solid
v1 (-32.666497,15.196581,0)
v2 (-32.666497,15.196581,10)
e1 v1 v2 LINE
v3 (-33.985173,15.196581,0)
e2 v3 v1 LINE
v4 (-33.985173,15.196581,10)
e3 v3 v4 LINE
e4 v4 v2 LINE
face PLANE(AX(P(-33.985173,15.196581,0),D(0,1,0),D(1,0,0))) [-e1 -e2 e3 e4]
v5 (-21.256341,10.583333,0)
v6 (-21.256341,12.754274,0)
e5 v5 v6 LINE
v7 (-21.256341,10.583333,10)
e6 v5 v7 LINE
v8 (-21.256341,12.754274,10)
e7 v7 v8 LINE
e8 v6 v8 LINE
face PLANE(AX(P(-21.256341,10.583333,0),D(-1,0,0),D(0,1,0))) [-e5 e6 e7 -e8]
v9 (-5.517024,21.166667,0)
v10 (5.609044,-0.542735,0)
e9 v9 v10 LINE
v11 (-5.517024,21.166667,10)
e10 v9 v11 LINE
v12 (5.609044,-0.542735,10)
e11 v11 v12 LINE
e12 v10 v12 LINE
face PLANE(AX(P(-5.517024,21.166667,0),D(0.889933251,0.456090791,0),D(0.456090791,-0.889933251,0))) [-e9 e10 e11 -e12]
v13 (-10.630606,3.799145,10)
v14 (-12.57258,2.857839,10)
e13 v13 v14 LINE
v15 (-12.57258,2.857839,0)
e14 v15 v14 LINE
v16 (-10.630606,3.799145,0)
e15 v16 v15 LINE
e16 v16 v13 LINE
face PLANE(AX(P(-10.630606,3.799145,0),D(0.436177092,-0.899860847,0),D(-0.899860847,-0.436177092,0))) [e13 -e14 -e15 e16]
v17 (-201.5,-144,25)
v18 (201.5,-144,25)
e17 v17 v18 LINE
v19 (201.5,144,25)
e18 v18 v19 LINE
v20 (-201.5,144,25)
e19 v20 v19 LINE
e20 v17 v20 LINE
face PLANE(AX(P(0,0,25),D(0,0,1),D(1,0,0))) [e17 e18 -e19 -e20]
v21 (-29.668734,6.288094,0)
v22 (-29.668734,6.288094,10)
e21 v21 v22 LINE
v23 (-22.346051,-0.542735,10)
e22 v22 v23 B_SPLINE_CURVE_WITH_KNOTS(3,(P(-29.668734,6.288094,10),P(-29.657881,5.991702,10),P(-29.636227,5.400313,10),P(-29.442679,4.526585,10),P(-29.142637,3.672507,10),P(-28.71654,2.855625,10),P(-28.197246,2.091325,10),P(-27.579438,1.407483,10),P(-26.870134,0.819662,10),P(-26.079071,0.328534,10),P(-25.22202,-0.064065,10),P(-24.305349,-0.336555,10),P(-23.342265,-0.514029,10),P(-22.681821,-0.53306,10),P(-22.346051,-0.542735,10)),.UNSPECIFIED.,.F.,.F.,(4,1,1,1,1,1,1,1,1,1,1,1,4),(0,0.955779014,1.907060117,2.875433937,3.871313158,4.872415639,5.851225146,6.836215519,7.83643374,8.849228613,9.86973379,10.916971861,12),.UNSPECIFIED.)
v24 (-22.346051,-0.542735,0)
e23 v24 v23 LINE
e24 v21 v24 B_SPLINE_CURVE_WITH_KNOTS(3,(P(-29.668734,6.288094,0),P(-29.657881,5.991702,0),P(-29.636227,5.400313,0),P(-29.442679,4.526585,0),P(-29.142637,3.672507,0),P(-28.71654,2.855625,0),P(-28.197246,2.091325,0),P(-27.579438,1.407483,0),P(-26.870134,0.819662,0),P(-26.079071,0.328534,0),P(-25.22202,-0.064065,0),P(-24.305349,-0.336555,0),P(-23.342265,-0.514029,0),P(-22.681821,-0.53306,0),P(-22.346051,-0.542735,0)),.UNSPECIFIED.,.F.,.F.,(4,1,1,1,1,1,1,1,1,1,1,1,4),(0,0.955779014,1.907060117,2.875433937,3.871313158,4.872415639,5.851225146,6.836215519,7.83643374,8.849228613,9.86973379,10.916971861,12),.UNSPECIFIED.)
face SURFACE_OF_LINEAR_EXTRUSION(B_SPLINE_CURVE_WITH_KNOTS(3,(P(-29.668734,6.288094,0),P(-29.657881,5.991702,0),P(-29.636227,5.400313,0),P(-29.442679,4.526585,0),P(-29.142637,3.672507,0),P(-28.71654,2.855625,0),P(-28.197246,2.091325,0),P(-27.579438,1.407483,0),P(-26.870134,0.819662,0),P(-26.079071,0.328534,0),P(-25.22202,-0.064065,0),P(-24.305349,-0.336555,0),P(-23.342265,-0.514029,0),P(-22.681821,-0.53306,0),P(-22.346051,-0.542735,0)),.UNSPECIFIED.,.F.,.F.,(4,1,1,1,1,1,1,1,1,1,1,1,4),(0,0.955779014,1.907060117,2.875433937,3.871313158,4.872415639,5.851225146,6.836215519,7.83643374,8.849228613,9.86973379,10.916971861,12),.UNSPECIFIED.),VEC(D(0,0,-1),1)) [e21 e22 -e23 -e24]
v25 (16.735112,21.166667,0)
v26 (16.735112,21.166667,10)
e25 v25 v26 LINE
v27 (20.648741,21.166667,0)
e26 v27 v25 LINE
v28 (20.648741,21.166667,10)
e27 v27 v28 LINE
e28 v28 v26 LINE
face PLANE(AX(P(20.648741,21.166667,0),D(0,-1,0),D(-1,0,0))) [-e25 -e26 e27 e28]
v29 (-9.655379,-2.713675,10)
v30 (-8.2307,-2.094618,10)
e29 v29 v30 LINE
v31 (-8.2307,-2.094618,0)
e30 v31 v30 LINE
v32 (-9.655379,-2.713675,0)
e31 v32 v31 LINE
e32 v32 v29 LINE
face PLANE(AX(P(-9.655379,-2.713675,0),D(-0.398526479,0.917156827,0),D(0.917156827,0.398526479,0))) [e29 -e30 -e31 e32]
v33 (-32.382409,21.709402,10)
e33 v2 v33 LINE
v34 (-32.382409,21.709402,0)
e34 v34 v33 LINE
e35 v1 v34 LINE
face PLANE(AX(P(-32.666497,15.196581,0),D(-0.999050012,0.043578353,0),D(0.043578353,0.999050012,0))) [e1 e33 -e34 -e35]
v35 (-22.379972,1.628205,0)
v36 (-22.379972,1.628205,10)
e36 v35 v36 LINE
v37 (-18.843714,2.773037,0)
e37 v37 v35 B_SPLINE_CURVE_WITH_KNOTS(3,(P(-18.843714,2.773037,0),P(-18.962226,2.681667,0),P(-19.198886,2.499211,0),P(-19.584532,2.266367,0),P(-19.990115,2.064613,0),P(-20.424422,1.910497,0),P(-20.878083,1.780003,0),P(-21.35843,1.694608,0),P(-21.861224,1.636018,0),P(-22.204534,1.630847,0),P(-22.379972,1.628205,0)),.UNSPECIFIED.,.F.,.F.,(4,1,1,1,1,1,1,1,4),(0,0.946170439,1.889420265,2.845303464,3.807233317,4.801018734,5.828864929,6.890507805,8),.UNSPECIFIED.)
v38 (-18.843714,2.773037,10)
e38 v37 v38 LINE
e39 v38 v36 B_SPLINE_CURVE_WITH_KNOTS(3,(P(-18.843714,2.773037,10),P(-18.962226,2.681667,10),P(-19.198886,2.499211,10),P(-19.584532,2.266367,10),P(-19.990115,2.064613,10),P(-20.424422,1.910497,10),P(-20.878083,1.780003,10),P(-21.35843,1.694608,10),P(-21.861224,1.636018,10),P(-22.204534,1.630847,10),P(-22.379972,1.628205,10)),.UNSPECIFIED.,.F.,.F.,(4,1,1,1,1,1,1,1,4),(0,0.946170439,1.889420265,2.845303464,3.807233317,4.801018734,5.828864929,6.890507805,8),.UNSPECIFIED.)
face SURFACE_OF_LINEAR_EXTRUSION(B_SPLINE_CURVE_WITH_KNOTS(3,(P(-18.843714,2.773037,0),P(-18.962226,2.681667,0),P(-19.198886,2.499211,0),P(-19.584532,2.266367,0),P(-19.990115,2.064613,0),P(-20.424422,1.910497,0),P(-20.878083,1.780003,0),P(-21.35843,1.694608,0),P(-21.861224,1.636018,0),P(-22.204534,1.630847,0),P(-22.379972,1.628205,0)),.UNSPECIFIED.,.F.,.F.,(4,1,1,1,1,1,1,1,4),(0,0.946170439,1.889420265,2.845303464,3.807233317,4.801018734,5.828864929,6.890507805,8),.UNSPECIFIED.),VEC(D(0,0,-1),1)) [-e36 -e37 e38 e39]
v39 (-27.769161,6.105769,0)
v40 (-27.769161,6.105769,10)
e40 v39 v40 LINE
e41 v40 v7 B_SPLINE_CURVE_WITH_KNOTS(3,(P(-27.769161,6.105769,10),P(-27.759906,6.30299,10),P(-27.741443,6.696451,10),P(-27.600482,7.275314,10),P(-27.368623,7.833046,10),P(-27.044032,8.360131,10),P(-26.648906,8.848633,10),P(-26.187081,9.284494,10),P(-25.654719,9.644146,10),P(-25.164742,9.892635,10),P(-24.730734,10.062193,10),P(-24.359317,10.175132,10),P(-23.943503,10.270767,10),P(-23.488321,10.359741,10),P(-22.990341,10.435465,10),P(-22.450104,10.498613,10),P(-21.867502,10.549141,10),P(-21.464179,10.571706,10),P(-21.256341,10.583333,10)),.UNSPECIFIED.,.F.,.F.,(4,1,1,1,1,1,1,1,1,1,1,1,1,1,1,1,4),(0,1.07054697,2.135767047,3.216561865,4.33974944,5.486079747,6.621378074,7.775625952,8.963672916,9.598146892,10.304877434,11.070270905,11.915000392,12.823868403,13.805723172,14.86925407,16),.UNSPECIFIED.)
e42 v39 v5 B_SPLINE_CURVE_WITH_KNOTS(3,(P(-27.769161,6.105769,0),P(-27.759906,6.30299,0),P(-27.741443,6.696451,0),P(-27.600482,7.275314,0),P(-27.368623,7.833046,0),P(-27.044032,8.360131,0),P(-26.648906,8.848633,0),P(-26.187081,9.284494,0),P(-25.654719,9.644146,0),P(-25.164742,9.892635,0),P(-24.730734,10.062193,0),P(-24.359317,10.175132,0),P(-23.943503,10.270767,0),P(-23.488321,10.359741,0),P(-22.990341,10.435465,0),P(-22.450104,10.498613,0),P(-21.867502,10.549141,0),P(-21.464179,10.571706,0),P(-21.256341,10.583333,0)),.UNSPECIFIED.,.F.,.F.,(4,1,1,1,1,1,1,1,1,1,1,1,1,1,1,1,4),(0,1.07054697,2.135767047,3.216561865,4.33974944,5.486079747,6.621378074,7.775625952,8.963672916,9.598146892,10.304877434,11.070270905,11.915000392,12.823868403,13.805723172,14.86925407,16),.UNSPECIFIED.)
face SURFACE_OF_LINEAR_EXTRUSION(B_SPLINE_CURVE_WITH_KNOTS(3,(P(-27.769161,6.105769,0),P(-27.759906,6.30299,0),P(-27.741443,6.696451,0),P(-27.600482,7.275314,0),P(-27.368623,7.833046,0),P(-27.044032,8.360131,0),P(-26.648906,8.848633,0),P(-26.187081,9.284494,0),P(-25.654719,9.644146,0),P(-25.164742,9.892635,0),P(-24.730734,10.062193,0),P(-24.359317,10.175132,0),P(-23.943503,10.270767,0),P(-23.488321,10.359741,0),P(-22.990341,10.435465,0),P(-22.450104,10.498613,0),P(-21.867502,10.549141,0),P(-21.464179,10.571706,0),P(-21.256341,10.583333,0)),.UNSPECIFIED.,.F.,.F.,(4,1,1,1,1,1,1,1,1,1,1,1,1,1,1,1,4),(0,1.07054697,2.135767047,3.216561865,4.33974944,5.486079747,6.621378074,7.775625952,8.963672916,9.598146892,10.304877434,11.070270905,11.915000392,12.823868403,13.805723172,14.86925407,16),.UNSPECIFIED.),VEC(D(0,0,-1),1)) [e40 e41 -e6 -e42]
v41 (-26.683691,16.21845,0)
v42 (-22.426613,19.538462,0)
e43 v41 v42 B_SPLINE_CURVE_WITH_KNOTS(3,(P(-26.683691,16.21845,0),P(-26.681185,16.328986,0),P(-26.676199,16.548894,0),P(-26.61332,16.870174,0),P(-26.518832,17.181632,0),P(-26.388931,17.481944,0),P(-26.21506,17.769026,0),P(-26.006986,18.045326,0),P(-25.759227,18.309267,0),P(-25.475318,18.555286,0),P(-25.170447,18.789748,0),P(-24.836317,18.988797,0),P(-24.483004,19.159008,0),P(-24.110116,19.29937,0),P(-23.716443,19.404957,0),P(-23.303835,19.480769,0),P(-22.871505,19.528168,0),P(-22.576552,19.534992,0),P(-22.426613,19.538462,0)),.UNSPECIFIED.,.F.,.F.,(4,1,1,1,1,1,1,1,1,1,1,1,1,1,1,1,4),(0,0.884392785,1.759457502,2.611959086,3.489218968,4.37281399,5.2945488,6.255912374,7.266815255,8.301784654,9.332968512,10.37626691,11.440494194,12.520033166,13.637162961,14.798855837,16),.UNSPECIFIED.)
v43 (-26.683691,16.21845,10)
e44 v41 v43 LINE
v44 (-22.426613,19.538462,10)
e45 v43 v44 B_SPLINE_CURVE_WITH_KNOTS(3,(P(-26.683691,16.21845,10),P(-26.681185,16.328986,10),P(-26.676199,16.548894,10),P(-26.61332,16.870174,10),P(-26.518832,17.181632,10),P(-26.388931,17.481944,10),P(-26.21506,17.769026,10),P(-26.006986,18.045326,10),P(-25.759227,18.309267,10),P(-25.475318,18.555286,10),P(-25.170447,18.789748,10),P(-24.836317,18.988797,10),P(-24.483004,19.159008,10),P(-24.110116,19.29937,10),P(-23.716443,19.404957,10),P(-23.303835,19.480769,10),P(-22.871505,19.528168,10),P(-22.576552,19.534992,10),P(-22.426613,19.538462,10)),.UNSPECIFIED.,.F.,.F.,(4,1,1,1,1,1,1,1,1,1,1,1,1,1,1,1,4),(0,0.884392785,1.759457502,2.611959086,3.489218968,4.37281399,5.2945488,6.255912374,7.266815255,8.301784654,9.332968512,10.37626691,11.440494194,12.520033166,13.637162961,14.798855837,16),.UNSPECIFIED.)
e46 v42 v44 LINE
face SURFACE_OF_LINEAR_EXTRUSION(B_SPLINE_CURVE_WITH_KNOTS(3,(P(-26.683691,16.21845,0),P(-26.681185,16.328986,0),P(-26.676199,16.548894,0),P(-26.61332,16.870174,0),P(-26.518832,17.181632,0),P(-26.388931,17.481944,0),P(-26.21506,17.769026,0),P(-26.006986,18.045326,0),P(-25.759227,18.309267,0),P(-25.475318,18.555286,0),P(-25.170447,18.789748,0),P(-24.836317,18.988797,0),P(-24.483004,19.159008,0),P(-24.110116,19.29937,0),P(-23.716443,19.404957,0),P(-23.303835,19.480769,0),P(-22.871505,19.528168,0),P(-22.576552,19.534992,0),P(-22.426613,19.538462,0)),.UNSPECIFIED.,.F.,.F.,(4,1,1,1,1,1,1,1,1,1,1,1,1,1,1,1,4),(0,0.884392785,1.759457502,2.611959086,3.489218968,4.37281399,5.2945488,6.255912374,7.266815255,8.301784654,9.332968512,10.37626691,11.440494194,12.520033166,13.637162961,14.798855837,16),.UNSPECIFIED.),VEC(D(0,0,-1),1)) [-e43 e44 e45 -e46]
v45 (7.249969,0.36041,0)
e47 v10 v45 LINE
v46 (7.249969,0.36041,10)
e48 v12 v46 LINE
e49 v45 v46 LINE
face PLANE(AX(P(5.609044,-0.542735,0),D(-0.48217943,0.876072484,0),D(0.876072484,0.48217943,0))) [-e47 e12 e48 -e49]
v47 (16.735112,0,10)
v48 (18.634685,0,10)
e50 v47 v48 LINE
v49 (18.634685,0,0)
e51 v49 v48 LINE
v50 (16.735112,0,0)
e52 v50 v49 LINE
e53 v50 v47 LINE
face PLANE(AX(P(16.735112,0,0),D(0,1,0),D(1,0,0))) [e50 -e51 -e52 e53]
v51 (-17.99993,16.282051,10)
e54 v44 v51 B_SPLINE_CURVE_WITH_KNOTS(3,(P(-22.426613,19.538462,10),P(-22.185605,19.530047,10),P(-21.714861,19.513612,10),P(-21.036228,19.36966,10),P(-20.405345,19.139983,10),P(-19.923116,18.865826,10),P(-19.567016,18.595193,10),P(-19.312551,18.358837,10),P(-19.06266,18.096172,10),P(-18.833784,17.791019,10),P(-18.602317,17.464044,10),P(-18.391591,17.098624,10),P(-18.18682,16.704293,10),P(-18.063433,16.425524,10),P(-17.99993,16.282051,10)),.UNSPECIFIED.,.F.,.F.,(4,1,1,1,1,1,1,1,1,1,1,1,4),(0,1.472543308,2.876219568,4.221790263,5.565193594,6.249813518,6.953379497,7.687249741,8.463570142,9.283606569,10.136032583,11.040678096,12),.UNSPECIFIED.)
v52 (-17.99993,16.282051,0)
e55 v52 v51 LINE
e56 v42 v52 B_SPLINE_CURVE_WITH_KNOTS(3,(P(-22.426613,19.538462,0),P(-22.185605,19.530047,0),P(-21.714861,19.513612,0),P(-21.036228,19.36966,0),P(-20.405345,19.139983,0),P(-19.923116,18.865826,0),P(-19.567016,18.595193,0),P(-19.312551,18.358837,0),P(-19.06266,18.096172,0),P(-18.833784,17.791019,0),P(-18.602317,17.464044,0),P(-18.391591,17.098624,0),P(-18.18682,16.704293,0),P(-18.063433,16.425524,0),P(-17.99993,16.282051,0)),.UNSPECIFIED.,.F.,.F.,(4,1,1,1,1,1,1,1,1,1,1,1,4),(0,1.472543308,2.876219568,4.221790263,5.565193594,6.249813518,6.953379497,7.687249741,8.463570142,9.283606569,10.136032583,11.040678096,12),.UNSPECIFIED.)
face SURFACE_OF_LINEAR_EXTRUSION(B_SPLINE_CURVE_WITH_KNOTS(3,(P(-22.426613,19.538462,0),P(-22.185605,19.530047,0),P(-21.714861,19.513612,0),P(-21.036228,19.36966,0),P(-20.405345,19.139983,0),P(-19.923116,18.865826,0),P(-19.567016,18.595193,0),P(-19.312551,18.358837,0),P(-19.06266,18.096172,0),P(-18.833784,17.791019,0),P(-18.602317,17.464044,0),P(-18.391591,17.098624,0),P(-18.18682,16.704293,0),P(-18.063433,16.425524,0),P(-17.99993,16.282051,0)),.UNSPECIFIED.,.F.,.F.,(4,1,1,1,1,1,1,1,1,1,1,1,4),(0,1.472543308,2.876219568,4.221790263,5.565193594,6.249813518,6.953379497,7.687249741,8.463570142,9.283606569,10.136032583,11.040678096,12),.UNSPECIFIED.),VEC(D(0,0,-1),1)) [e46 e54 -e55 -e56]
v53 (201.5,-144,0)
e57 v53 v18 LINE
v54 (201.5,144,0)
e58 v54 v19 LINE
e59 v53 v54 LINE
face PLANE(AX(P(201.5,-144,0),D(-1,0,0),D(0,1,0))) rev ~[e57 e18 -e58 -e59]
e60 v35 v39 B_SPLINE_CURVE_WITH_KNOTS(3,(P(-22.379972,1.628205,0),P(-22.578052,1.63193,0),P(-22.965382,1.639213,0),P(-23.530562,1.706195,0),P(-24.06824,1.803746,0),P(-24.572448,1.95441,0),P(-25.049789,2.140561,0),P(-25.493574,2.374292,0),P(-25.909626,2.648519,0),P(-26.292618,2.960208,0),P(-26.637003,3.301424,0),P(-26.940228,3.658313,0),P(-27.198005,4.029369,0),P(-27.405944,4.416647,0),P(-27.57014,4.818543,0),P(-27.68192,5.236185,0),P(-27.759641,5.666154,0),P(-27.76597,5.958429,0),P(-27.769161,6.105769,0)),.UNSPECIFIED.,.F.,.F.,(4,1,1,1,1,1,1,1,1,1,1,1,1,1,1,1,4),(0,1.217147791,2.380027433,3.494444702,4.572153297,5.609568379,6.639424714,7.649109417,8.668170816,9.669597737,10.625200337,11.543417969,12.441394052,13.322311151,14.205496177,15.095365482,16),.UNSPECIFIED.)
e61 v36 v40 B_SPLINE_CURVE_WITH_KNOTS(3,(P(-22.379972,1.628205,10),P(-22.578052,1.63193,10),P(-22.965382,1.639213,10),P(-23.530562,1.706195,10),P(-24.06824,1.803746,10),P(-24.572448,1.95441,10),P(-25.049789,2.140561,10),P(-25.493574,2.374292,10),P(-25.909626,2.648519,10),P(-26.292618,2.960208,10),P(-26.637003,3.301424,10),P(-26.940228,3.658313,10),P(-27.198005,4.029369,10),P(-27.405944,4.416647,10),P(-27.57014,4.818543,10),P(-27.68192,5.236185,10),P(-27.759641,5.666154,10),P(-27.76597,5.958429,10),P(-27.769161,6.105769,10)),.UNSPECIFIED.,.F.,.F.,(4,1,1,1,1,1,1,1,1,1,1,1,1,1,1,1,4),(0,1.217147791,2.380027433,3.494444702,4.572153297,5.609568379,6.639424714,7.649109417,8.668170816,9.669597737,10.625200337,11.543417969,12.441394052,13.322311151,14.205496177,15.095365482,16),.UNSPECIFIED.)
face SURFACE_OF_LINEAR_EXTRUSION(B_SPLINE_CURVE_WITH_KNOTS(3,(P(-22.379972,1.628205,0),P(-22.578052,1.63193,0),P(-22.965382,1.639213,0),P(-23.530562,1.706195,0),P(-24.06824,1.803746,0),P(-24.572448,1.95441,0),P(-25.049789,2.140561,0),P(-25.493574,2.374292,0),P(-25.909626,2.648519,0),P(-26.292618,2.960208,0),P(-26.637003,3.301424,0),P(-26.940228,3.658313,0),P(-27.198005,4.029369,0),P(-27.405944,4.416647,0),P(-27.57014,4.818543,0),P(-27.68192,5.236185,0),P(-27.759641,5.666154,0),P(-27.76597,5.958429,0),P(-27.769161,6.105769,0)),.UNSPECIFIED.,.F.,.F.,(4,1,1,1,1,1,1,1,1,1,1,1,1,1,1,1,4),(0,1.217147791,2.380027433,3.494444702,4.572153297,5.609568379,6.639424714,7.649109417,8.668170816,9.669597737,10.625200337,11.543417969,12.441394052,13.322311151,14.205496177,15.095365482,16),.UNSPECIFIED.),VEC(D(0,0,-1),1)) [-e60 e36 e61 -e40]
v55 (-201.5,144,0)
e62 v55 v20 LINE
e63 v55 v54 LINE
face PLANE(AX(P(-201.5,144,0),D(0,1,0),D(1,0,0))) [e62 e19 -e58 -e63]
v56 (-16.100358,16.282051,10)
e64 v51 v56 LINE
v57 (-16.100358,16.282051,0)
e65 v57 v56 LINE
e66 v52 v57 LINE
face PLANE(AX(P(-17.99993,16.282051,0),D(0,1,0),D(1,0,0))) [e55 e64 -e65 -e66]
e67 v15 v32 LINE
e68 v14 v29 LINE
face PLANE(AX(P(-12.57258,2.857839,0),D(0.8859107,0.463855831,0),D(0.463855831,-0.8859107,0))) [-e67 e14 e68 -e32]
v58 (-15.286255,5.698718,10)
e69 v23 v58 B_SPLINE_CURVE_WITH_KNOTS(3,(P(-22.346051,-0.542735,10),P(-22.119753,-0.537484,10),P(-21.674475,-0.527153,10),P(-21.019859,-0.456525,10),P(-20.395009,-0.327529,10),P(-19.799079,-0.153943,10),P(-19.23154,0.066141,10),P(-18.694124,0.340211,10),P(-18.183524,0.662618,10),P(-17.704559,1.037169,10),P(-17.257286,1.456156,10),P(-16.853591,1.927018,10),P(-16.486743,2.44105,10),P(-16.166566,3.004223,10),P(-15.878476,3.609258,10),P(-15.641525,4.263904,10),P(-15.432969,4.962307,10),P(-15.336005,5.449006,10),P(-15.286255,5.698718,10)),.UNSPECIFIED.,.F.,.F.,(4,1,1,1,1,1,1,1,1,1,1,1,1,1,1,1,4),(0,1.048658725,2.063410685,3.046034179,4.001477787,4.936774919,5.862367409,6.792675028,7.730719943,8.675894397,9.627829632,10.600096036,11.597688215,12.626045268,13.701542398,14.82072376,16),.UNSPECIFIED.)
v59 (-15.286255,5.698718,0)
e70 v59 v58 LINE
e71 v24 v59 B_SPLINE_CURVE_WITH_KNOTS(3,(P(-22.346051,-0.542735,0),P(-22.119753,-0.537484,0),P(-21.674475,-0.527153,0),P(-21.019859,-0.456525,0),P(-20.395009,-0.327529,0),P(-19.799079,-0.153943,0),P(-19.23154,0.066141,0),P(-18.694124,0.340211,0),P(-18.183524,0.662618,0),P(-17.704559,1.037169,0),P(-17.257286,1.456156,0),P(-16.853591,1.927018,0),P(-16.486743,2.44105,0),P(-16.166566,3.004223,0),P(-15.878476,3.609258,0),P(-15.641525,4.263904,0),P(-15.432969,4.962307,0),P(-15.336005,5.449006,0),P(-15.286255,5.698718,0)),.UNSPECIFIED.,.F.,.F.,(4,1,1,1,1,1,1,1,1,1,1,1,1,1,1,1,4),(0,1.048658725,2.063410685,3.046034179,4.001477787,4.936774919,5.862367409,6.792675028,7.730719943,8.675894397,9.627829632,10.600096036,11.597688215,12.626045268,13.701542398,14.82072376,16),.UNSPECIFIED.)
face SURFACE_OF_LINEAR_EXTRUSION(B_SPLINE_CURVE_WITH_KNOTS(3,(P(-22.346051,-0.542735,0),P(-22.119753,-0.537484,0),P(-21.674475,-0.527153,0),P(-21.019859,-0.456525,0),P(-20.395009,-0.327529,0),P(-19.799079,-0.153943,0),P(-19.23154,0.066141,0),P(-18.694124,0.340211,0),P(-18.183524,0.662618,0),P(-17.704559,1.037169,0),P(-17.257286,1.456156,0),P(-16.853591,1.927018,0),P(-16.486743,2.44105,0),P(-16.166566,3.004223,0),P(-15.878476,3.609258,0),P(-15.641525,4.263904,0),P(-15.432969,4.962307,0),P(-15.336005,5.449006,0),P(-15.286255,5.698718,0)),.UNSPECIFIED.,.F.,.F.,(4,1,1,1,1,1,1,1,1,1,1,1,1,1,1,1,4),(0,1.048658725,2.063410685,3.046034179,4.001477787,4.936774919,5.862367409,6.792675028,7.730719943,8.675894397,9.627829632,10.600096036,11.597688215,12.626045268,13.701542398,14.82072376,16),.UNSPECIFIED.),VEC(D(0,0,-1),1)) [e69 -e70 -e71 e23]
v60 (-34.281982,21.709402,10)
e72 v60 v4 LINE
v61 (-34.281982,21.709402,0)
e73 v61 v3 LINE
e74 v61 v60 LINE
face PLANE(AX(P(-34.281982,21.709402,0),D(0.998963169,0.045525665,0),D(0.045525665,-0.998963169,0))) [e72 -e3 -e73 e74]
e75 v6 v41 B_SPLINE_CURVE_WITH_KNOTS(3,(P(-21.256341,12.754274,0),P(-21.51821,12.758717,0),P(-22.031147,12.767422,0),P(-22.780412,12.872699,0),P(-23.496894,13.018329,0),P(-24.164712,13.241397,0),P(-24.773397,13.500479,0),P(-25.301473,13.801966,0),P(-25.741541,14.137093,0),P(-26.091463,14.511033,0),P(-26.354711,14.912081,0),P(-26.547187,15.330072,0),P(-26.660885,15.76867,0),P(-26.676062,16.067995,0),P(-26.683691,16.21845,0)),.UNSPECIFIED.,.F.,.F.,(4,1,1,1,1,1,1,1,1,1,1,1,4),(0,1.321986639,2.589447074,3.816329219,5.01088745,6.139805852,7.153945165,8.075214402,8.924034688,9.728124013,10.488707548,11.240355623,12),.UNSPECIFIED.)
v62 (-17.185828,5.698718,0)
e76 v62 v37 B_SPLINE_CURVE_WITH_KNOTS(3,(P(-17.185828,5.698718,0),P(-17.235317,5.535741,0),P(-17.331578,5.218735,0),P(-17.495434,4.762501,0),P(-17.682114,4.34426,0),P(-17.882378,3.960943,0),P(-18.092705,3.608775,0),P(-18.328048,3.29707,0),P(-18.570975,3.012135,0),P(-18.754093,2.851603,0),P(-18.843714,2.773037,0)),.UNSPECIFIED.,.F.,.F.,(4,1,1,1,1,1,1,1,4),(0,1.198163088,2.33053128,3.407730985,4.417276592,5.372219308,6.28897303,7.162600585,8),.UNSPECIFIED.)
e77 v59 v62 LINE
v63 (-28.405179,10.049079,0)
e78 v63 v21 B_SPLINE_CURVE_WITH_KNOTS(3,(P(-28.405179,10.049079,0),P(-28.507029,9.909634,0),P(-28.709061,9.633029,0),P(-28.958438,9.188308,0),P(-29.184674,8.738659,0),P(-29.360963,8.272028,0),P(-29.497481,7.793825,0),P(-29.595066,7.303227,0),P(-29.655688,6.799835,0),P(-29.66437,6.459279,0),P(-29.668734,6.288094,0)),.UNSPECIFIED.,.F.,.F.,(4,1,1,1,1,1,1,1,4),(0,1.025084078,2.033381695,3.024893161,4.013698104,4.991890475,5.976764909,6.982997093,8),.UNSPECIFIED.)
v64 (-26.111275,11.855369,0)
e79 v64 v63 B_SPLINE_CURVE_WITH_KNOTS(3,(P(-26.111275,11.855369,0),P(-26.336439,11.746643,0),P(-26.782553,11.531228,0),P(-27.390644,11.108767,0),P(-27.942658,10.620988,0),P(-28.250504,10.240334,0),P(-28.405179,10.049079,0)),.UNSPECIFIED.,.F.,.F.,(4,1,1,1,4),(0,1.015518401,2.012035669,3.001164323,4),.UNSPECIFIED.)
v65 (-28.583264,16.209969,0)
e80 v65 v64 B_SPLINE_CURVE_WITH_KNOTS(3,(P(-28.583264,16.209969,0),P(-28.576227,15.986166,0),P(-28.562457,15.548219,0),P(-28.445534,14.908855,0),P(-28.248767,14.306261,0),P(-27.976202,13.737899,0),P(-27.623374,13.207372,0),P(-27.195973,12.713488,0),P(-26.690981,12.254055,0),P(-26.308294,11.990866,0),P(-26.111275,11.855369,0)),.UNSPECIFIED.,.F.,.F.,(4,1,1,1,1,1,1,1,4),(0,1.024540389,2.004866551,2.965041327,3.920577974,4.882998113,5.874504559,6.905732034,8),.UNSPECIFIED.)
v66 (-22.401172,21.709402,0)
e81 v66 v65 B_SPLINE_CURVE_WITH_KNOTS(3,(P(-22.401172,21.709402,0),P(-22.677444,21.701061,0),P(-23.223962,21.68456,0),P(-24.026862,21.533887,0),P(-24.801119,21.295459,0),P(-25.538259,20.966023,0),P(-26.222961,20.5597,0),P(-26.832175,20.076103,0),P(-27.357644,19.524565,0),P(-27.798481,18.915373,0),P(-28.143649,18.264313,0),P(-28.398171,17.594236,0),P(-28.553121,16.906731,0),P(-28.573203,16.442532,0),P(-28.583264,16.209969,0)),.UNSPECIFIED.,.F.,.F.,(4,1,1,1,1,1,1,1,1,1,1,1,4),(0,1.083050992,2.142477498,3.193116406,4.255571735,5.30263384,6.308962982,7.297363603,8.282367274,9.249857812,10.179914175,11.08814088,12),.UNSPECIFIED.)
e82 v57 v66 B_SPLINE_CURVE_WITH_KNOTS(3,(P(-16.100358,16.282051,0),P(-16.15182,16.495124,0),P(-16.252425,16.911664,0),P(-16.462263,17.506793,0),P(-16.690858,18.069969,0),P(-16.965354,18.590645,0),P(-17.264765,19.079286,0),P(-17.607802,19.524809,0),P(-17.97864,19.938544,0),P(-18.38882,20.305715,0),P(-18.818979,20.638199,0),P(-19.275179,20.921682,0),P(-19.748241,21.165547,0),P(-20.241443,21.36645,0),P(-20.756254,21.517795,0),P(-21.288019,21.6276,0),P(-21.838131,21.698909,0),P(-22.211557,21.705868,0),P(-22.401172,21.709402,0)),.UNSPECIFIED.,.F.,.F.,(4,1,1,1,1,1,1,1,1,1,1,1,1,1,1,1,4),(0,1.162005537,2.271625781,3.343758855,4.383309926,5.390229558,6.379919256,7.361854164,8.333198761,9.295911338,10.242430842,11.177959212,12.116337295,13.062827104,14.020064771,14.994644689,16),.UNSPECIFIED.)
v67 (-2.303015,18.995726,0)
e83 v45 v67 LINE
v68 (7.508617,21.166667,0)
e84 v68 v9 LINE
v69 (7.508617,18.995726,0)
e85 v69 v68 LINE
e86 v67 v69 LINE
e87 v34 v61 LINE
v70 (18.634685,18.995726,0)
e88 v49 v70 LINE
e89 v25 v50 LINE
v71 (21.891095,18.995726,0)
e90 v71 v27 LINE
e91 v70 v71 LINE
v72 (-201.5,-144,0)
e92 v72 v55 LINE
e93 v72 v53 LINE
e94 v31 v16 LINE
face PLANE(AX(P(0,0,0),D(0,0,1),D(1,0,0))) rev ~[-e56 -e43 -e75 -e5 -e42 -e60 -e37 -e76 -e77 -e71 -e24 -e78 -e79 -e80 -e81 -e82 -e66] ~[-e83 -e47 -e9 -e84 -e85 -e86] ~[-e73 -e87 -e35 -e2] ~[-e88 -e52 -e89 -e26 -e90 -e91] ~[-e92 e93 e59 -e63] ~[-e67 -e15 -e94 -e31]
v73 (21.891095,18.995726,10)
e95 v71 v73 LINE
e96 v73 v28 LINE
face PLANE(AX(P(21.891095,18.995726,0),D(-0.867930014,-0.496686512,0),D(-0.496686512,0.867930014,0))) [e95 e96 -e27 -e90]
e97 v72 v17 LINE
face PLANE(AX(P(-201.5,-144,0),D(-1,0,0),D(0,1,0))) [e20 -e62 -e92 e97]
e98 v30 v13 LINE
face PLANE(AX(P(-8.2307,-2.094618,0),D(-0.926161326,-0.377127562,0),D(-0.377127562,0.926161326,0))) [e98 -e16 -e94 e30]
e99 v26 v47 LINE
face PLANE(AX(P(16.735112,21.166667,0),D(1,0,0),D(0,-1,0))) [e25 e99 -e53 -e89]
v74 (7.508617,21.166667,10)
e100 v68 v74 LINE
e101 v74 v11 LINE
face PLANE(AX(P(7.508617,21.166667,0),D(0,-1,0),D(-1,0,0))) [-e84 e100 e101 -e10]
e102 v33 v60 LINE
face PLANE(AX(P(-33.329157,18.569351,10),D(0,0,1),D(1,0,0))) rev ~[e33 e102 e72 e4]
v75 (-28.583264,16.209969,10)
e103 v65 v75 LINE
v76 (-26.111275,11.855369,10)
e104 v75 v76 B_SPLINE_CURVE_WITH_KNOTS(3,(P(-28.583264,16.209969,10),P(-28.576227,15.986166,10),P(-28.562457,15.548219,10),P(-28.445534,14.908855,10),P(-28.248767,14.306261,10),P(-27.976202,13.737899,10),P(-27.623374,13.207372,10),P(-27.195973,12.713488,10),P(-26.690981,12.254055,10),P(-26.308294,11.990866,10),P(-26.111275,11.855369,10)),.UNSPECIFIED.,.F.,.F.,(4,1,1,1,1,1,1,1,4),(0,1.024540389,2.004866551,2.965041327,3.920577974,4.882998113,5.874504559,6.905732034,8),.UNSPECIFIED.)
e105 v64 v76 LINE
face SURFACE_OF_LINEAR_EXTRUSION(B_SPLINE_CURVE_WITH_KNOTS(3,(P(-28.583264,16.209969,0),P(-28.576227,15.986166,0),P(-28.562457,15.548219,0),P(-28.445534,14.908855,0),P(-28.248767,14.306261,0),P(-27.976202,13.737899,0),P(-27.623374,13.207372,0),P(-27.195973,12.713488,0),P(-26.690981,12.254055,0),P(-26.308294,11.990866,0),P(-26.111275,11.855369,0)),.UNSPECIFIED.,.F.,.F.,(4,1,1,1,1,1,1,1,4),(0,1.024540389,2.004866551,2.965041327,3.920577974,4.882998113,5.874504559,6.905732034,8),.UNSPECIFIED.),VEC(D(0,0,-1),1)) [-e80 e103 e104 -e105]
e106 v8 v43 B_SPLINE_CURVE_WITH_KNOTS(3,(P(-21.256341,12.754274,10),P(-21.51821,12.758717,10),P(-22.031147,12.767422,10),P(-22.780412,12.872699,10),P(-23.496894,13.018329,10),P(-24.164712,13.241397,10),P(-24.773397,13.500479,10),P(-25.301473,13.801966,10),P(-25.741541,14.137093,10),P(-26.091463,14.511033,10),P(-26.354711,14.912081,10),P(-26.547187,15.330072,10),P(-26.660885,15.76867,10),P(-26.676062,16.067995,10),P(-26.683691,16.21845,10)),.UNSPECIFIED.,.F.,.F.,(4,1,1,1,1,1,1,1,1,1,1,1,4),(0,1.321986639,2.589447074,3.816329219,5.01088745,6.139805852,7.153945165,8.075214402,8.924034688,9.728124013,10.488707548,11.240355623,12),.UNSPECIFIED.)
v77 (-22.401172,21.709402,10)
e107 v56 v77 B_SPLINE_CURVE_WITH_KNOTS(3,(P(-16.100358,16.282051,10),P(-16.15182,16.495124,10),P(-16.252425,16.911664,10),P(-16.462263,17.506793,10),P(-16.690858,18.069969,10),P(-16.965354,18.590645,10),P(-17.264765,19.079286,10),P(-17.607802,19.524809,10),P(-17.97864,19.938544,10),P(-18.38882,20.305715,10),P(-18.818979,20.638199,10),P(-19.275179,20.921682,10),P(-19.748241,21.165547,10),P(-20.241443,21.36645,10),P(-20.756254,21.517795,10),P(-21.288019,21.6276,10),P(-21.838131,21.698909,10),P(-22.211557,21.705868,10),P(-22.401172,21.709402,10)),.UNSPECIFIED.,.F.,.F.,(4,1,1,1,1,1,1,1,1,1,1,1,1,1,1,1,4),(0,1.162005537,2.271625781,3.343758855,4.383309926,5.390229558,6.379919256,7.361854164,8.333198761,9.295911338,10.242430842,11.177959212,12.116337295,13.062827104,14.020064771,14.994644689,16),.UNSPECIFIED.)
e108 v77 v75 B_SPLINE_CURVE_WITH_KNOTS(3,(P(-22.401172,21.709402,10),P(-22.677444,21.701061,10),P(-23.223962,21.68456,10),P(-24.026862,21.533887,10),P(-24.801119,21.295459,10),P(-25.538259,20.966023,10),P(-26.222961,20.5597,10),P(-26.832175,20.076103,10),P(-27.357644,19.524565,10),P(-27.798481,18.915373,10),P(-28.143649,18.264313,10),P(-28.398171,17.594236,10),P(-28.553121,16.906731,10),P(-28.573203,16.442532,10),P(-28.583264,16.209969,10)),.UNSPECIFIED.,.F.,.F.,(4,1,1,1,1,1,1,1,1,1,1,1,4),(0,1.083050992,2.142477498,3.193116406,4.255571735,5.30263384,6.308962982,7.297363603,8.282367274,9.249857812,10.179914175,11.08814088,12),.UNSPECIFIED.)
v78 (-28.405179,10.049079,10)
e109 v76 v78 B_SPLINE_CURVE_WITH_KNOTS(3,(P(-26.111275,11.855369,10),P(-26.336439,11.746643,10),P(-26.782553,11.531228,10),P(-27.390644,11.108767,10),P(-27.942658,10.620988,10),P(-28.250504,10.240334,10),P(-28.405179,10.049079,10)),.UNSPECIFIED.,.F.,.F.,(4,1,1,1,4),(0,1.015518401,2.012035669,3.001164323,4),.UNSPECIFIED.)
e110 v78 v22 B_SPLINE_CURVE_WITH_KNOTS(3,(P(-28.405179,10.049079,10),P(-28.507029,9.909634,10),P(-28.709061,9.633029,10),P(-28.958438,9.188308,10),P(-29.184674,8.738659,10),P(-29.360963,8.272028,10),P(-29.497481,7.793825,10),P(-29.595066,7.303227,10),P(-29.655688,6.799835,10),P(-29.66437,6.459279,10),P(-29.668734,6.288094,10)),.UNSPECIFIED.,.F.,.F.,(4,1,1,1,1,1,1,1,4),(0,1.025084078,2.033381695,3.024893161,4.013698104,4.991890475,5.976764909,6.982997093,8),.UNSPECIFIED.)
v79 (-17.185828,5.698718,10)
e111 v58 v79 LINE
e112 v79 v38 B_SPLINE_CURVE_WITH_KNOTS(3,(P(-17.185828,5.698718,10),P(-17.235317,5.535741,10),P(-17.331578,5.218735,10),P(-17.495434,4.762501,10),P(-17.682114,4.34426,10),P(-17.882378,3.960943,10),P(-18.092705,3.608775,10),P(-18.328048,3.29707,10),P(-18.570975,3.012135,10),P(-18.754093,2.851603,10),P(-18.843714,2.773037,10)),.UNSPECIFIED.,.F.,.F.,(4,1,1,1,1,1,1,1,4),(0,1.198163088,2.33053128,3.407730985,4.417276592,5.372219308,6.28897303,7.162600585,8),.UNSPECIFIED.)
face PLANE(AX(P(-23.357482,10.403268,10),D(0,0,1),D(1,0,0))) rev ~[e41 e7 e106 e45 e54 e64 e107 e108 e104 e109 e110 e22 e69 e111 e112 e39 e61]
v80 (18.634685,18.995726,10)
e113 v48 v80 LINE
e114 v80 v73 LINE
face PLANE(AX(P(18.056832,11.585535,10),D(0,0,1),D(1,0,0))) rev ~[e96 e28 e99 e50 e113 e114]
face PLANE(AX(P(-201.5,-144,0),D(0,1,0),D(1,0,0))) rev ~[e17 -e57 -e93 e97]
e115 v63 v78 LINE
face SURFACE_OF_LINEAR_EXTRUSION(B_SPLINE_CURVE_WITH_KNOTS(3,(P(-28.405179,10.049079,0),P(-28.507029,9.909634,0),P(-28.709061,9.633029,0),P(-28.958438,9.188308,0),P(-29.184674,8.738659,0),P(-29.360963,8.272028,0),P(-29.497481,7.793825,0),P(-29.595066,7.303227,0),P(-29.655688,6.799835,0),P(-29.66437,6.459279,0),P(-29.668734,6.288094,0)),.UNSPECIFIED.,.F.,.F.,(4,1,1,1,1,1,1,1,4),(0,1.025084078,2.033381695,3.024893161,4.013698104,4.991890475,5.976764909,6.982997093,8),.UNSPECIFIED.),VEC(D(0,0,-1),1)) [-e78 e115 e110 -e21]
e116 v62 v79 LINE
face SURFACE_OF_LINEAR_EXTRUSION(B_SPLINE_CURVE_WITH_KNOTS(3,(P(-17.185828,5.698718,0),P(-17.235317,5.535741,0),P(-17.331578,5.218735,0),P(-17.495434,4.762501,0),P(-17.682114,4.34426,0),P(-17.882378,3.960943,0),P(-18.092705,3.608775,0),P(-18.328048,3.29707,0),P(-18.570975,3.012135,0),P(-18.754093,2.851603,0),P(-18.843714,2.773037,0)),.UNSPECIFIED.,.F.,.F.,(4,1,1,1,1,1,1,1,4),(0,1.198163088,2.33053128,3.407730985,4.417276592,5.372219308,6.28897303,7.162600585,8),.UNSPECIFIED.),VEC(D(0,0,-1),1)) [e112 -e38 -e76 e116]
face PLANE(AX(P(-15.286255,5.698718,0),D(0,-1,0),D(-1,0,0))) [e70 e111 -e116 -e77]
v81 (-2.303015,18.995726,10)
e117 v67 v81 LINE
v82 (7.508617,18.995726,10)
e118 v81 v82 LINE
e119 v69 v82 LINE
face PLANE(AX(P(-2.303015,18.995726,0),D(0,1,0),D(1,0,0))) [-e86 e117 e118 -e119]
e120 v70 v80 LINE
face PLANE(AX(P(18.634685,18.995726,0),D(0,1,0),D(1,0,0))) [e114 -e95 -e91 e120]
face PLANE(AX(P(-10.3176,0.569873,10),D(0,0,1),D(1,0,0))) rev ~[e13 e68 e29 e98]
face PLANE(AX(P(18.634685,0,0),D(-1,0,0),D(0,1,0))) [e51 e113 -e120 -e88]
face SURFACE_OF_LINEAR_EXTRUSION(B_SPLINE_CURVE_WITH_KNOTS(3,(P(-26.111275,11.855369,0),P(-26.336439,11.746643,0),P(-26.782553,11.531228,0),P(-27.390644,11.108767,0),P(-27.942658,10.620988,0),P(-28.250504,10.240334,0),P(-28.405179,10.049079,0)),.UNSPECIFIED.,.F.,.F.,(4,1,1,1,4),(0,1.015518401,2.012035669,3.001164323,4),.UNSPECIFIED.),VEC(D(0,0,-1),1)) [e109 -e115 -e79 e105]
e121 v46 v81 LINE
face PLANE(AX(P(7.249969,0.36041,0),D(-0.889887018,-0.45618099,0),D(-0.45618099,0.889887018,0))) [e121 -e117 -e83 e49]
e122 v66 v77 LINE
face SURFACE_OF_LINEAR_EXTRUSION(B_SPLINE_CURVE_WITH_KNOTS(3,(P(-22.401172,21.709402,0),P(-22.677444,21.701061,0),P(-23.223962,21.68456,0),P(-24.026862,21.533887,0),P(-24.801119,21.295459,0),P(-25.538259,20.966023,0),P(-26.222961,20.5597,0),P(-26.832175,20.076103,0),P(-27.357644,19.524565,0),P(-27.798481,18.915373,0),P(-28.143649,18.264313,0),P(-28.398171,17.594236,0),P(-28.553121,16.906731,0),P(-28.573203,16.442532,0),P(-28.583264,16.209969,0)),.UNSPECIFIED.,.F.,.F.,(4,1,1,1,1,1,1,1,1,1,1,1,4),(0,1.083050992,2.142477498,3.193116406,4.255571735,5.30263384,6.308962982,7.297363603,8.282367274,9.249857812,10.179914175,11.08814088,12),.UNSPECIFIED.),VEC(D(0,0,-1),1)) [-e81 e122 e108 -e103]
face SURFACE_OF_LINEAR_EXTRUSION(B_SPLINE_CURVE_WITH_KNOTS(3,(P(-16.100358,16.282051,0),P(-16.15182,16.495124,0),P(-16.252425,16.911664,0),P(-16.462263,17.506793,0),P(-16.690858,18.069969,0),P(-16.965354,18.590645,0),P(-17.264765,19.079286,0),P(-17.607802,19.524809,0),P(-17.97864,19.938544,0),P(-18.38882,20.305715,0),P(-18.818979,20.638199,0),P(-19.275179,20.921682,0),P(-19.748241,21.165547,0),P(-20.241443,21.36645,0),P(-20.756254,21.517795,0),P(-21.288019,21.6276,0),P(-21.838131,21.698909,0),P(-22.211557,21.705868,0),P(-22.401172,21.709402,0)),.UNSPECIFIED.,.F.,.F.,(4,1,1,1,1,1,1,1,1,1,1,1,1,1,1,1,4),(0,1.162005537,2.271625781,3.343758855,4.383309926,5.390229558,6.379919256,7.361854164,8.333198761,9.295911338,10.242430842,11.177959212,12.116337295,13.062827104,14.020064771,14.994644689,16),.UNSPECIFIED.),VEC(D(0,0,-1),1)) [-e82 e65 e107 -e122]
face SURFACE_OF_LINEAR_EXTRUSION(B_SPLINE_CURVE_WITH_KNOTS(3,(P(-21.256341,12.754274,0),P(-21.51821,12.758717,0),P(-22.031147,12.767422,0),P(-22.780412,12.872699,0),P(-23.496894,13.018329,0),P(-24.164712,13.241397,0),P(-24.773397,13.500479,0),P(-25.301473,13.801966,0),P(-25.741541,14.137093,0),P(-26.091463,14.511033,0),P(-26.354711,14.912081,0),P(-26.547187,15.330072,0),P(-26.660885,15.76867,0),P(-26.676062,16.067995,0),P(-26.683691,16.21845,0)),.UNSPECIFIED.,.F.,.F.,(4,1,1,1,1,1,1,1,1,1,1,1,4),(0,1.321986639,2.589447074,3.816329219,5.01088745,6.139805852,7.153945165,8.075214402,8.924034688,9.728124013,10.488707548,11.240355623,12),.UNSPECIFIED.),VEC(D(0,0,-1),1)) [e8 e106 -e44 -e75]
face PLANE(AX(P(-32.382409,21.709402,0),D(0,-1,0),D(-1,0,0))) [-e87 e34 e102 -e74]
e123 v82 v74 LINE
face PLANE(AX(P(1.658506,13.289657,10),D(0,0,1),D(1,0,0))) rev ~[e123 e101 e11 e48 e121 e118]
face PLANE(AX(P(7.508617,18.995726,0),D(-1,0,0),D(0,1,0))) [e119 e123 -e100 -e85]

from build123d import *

# Parameters (mm, degrees)
ESBO_O1_W                = 403
ESBO_O1_H                = 288
RESSALTO_EXTRUS_O1_DEPTH = 25
CORTE_EXTRUS_O1_DEPTH    = 10


with BuildPart() as part:
    # Esboço1 → Ressalto-extrusão1 (new body)
    with BuildSketch(Plane.XY):
        Rectangle(ESBO_O1_W, ESBO_O1_H)
    extrude(amount=RESSALTO_EXTRUS_O1_DEPTH)

    # Esboço2 → Corte-extrusão1 (cut)
    with BuildSketch(Plane(origin=(0, 0, 0), x_dir=(-1, 0, 0), z_dir=(0, 0, -1))):
        Polygon((-20.648740833, 21.166666667), (-16.735112361, 21.166666667), (-16.735112361, 0), (-18.63468501, 0), (-18.63468501, 18.995726496), (-21.891095267, 18.995726496), align=None)
        Polygon((-7.508616634, 21.166666667), (5.517024391, 21.166666667), (-5.609043985, -0.542735043), (-7.249969465, 0.360409989), (2.30301531, 18.995726496), (-7.508616634, 18.995726496), align=None)
        Polygon((10.630606122, 3.799145299), (12.572579947, 2.857839209), (9.655379092, -2.713675214), (8.230699605, -2.094618056), align=None)
        with BuildLine():
            Line((17.999930374, 16.282051282), (16.100357725, 16.282051282))
            add(Edge.make_bspline(
                [(16.100357725, 16.282051282), (16.151820246, 16.495123923), (16.252425264, 16.911663509), (16.462262971, 17.506793134), (16.690858466, 18.069968716), (16.96535448, 18.590644971), (17.264764565, 19.079285954), (17.607801976, 19.524808754), (17.978640298, 19.938544308), (18.388819753, 20.305714839), (18.818978802, 20.638199202), (19.275178646, 20.921681691), (19.748240907, 21.165546806), (20.241443188, 21.366450113), (20.756253845, 21.517794947), (21.28801871, 21.62760039), (21.838131306, 21.698908557), (22.211557211, 21.705867934), (22.401172362, 21.709401709)],
                knots=[0, 0, 0, 0, 1.162005537, 2.271625781, 3.343758855, 4.383309926, 5.390229558, 6.379919256, 7.361854164, 8.333198761, 9.295911338, 10.242430842, 11.177959212, 12.116337295, 13.062827104, 14.020064771, 14.994644689, 16, 16, 16, 16], degree=3))
            add(Edge.make_bspline(
                [(22.401172362, 21.709401709), (22.677444183, 21.70106065), (23.223961535, 21.684560475), (24.026861866, 21.533887454), (24.801119296, 21.295459273), (25.538259033, 20.966022923), (26.222960982, 20.559699648), (26.832175064, 20.076103382), (27.357643677, 19.524564749), (27.798481104, 18.915372575), (28.143648955, 18.264313066), (28.398171309, 17.594235925), (28.553121475, 16.906730669), (28.573202938, 16.442531886), (28.583263708, 16.209969284)],
                knots=[0, 0, 0, 0, 1.083050992, 2.142477498, 3.193116406, 4.255571735, 5.30263384, 6.308962982, 7.297363603, 8.282367274, 9.249857812, 10.179914175, 11.08814088, 12, 12, 12, 12], degree=3))
            add(Edge.make_bspline(
                [(28.583263708, 16.209969284), (28.576226752, 15.986166288), (28.562456523, 15.548218554), (28.445533637, 14.908855214), (28.248766714, 14.306260774), (27.976201959, 13.737898508), (27.623374488, 13.207372095), (27.195972941, 12.713487898), (26.690980653, 12.254055371), (26.308293742, 11.990866177), (26.111275193, 11.85536859)],
                knots=[0, 0, 0, 0, 1.024540389, 2.004866551, 2.965041327, 3.920577974, 4.882998113, 5.874504559, 6.905732034, 8, 8, 8, 8], degree=3))
            add(Edge.make_bspline(
                [(26.111275193, 11.85536859), (26.336438661, 11.746643457), (26.782552615, 11.531227523), (27.390643912, 11.108766513), (27.94265773, 10.620987651), (28.250504031, 10.240334464), (28.405178772, 10.049078526)],
                knots=[0, 0, 0, 0, 1.015518401, 2.012035669, 3.001164323, 4, 4, 4, 4], degree=3))
            add(Edge.make_bspline(
                [(28.405178772, 10.049078526), (28.507028795, 9.909634028), (28.709060976, 9.633028532), (28.958437775, 9.188308243), (29.184673847, 8.73865876), (29.360963269, 8.272028066), (29.497481416, 7.793824602), (29.595065992, 7.303227255), (29.655688177, 6.799835405), (29.664369849, 6.459278977), (29.668733793, 6.288094284)],
                knots=[0, 0, 0, 0, 1.025084078, 2.033381695, 3.024893161, 4.013698104, 4.991890475, 5.976764909, 6.982997093, 8, 8, 8, 8], degree=3))
            add(Edge.make_bspline(
                [(29.668733793, 6.288094284), (29.657881259, 5.991702161), (29.636227263, 5.40031274), (29.442678814, 4.526584662), (29.142636834, 3.672506624), (28.716540126, 2.855625453), (28.197246144, 2.091325054), (27.579437565, 1.407482614), (26.870134047, 0.819662483), (26.079071314, 0.328533961), (25.222020108, -0.064064902), (24.305348671, -0.336555152), (23.342265011, -0.514028578), (22.681820878, -0.533059643), (22.346050834, -0.542735043)],
                knots=[0, 0, 0, 0, 0.955779014, 1.907060117, 2.875433937, 3.871313158, 4.872415639, 5.851225146, 6.836215519, 7.83643374, 8.849228613, 9.86973379, 10.916971861, 12, 12, 12, 12], degree=3))
            add(Edge.make_bspline(
                [(22.346050834, -0.542735043), (22.119753161, -0.53748442), (21.674474801, -0.527152944), (21.019859359, -0.456525213), (20.395009082, -0.327529467), (19.799079133, -0.153942811), (19.231540103, 0.066140581), (18.694123848, 0.340210803), (18.183524016, 0.662618458), (17.70455893, 1.037169203), (17.257285687, 1.456156353), (16.853590641, 1.927017985), (16.486743322, 2.441049904), (16.166566411, 3.004222672), (15.878476269, 3.609258276), (15.64152477, 4.263903957), (15.432969188, 4.962307328), (15.336004904, 5.449006042), (15.286255161, 5.698717949)],
                knots=[0, 0, 0, 0, 1.048658725, 2.063410685, 3.046034179, 4.001477787, 4.936774919, 5.862367409, 6.792675028, 7.730719943, 8.675894397, 9.627829632, 10.600096036, 11.597688215, 12.626045268, 13.701542398, 14.82072376, 16, 16, 16, 16], degree=3))
            Line((15.286255161, 5.698717949), (17.18582781, 5.698717949))
            add(Edge.make_bspline(
                [(17.18582781, 5.698717949), (17.235317239, 5.535740583), (17.331578478, 5.21873545), (17.495434471, 4.76250122), (17.682114021, 4.34425966), (17.882378256, 3.960942684), (18.092705049, 3.608775298), (18.328047692, 3.297069709), (18.570975379, 3.012134915), (18.754093373, 2.851603214), (18.843713761, 2.773036859)],
                knots=[0, 0, 0, 0, 1.198163088, 2.33053128, 3.407730985, 4.417276592, 5.372219308, 6.28897303, 7.162600585, 8, 8, 8, 8], degree=3))
            add(Edge.make_bspline(
                [(18.843713761, 2.773036859), (18.962226391, 2.681667411), (19.198885828, 2.499210552), (19.584531797, 2.26636737), (19.99011468, 2.064612598), (20.424422471, 1.910496914), (20.878083226, 1.780003442), (21.358429673, 1.694607921), (21.861223986, 1.636017552), (22.204533794, 1.630847252), (22.379971774, 1.628205128)],
                knots=[0, 0, 0, 0, 0.946170439, 1.889420265, 2.845303464, 3.807233317, 4.801018734, 5.828864929, 6.890507805, 8, 8, 8, 8], degree=3))
            add(Edge.make_bspline(
                [(22.379971774, 1.628205128), (22.57805248, 1.631929889), (22.965382202, 1.639213336), (23.53056159, 1.706194991), (24.068239963, 1.803745587), (24.572447657, 1.954409816), (25.049789297, 2.14056068), (25.493573559, 2.374291513), (25.909626201, 2.648519115), (26.292618319, 2.960208313), (26.637003055, 3.301424021), (26.940227731, 3.658312594), (27.198005445, 4.029369277), (27.405944228, 4.416647437), (27.570140413, 4.818543345), (27.681919769, 5.236184837), (27.759640836, 5.666154018), (27.765970348, 5.958429211), (27.769161144, 6.105769231)],
                knots=[0, 0, 0, 0, 1.217147791, 2.380027433, 3.494444702, 4.572153297, 5.609568379, 6.639424714, 7.649109417, 8.668170816, 9.669597737, 10.625200337, 11.543417969, 12.441394052, 13.322311151, 14.205496177, 15.095365482, 16, 16, 16, 16], degree=3))
            add(Edge.make_bspline(
                [(27.769161144, 6.105769231), (27.759906463, 6.302990185), (27.741443152, 6.696450749), (27.600481743, 7.275314174), (27.368622897, 7.83304624), (27.044031995, 8.360131256), (26.648906398, 8.848633137), (26.187080533, 9.284494007), (25.654719342, 9.644146463), (25.164742039, 9.892635004), (24.730733712, 10.062192554), (24.359316863, 10.175131624), (23.943503119, 10.27076659), (23.488320914, 10.359740803), (22.99034051, 10.435465147), (22.450104051, 10.498613271), (21.867502064, 10.549141375), (21.464179299, 10.571705618), (21.256340631, 10.583333333)],
                knots=[0, 0, 0, 0, 1.07054697, 2.135767047, 3.216561865, 4.33974944, 5.486079747, 6.621378074, 7.775625952, 8.963672916, 9.598146892, 10.304877434, 11.070270905, 11.915000392, 12.823868403, 13.805723172, 14.86925407, 16, 16, 16, 16], degree=3))
            Line((21.256340631, 10.583333333), (21.256340631, 12.754273504))
            add(Edge.make_bspline(
                [(21.256340631, 12.754273504), (21.518209585, 12.758717317), (22.031146538, 12.767421655), (22.780412096, 12.87269867), (23.496893555, 13.018329135), (24.164712423, 13.241396727), (24.773397499, 13.500478522), (25.301473188, 13.801965694), (25.741541174, 14.137092987), (26.091462892, 14.511033053), (26.354711084, 14.912081197), (26.54718743, 15.330072413), (26.660884642, 15.768670305), (26.676062151, 16.067995202), (26.683691058, 16.218449519)],
                knots=[0, 0, 0, 0, 1.321986639, 2.589447074, 3.816329219, 5.01088745, 6.139805852, 7.153945165, 8.075214402, 8.924034688, 9.728124013, 10.488707548, 11.240355623, 12, 12, 12, 12], degree=3))
            add(Edge.make_bspline(
                [(26.683691058, 16.218449519), (26.681184858, 16.328986359), (26.676198893, 16.548894159), (26.613320118, 16.870174336), (26.51883187, 17.181632438), (26.38893065, 17.481943957), (26.215060401, 17.76902609), (26.006986101, 18.045326376), (25.759226638, 18.309267325), (25.475318458, 18.555286401), (25.170447066, 18.789747978), (24.836317474, 18.988797116), (24.483004232, 19.159007729), (24.110116176, 19.299369956), (23.716443207, 19.40495708), (23.303834978, 19.480769073), (22.871504701, 19.528168224), (22.576551846, 19.534992453), (22.426613067, 19.538461538)],
                knots=[0, 0, 0, 0, 0.884392785, 1.759457502, 2.611959086, 3.489218968, 4.37281399, 5.2945488, 6.255912374, 7.266815255, 8.301784654, 9.332968512, 10.37626691, 11.440494194, 12.520033166, 13.637162961, 14.798855837, 16, 16, 16, 16], degree=3))
            add(Edge.make_bspline(
                [(22.426613067, 19.538461538), (22.18560536, 19.530047111), (21.714861255, 19.513611777), (21.036228186, 19.36966022), (20.405344595, 19.139983239), (19.923115516, 18.865826407), (19.567016139, 18.595192831), (19.312550846, 18.358837447), (19.06266014, 18.096172275), (18.833783904, 17.791019243), (18.602317474, 17.464043893), (18.39159084, 17.098624486), (18.18682032, 16.704293149), (18.063433472, 16.425524311), (17.999930374, 16.282051282)],
                knots=[0, 0, 0, 0, 1.472543308, 2.876219568, 4.221790263, 5.565193594, 6.249813518, 6.953379497, 7.687249741, 8.463570142, 9.283606569, 10.136032583, 11.040678096, 12, 12, 12, 12], degree=3))
        make_face()
        Polygon((33.98517343, 15.196581197), (32.666496881, 15.196581197), (32.382409007, 21.709401709), (34.281981656, 21.709401709), align=None)
    extrude(amount=-CORTE_EXTRUS_O1_DEPTH, mode=Mode.SUBTRACT)


solid = part.part
